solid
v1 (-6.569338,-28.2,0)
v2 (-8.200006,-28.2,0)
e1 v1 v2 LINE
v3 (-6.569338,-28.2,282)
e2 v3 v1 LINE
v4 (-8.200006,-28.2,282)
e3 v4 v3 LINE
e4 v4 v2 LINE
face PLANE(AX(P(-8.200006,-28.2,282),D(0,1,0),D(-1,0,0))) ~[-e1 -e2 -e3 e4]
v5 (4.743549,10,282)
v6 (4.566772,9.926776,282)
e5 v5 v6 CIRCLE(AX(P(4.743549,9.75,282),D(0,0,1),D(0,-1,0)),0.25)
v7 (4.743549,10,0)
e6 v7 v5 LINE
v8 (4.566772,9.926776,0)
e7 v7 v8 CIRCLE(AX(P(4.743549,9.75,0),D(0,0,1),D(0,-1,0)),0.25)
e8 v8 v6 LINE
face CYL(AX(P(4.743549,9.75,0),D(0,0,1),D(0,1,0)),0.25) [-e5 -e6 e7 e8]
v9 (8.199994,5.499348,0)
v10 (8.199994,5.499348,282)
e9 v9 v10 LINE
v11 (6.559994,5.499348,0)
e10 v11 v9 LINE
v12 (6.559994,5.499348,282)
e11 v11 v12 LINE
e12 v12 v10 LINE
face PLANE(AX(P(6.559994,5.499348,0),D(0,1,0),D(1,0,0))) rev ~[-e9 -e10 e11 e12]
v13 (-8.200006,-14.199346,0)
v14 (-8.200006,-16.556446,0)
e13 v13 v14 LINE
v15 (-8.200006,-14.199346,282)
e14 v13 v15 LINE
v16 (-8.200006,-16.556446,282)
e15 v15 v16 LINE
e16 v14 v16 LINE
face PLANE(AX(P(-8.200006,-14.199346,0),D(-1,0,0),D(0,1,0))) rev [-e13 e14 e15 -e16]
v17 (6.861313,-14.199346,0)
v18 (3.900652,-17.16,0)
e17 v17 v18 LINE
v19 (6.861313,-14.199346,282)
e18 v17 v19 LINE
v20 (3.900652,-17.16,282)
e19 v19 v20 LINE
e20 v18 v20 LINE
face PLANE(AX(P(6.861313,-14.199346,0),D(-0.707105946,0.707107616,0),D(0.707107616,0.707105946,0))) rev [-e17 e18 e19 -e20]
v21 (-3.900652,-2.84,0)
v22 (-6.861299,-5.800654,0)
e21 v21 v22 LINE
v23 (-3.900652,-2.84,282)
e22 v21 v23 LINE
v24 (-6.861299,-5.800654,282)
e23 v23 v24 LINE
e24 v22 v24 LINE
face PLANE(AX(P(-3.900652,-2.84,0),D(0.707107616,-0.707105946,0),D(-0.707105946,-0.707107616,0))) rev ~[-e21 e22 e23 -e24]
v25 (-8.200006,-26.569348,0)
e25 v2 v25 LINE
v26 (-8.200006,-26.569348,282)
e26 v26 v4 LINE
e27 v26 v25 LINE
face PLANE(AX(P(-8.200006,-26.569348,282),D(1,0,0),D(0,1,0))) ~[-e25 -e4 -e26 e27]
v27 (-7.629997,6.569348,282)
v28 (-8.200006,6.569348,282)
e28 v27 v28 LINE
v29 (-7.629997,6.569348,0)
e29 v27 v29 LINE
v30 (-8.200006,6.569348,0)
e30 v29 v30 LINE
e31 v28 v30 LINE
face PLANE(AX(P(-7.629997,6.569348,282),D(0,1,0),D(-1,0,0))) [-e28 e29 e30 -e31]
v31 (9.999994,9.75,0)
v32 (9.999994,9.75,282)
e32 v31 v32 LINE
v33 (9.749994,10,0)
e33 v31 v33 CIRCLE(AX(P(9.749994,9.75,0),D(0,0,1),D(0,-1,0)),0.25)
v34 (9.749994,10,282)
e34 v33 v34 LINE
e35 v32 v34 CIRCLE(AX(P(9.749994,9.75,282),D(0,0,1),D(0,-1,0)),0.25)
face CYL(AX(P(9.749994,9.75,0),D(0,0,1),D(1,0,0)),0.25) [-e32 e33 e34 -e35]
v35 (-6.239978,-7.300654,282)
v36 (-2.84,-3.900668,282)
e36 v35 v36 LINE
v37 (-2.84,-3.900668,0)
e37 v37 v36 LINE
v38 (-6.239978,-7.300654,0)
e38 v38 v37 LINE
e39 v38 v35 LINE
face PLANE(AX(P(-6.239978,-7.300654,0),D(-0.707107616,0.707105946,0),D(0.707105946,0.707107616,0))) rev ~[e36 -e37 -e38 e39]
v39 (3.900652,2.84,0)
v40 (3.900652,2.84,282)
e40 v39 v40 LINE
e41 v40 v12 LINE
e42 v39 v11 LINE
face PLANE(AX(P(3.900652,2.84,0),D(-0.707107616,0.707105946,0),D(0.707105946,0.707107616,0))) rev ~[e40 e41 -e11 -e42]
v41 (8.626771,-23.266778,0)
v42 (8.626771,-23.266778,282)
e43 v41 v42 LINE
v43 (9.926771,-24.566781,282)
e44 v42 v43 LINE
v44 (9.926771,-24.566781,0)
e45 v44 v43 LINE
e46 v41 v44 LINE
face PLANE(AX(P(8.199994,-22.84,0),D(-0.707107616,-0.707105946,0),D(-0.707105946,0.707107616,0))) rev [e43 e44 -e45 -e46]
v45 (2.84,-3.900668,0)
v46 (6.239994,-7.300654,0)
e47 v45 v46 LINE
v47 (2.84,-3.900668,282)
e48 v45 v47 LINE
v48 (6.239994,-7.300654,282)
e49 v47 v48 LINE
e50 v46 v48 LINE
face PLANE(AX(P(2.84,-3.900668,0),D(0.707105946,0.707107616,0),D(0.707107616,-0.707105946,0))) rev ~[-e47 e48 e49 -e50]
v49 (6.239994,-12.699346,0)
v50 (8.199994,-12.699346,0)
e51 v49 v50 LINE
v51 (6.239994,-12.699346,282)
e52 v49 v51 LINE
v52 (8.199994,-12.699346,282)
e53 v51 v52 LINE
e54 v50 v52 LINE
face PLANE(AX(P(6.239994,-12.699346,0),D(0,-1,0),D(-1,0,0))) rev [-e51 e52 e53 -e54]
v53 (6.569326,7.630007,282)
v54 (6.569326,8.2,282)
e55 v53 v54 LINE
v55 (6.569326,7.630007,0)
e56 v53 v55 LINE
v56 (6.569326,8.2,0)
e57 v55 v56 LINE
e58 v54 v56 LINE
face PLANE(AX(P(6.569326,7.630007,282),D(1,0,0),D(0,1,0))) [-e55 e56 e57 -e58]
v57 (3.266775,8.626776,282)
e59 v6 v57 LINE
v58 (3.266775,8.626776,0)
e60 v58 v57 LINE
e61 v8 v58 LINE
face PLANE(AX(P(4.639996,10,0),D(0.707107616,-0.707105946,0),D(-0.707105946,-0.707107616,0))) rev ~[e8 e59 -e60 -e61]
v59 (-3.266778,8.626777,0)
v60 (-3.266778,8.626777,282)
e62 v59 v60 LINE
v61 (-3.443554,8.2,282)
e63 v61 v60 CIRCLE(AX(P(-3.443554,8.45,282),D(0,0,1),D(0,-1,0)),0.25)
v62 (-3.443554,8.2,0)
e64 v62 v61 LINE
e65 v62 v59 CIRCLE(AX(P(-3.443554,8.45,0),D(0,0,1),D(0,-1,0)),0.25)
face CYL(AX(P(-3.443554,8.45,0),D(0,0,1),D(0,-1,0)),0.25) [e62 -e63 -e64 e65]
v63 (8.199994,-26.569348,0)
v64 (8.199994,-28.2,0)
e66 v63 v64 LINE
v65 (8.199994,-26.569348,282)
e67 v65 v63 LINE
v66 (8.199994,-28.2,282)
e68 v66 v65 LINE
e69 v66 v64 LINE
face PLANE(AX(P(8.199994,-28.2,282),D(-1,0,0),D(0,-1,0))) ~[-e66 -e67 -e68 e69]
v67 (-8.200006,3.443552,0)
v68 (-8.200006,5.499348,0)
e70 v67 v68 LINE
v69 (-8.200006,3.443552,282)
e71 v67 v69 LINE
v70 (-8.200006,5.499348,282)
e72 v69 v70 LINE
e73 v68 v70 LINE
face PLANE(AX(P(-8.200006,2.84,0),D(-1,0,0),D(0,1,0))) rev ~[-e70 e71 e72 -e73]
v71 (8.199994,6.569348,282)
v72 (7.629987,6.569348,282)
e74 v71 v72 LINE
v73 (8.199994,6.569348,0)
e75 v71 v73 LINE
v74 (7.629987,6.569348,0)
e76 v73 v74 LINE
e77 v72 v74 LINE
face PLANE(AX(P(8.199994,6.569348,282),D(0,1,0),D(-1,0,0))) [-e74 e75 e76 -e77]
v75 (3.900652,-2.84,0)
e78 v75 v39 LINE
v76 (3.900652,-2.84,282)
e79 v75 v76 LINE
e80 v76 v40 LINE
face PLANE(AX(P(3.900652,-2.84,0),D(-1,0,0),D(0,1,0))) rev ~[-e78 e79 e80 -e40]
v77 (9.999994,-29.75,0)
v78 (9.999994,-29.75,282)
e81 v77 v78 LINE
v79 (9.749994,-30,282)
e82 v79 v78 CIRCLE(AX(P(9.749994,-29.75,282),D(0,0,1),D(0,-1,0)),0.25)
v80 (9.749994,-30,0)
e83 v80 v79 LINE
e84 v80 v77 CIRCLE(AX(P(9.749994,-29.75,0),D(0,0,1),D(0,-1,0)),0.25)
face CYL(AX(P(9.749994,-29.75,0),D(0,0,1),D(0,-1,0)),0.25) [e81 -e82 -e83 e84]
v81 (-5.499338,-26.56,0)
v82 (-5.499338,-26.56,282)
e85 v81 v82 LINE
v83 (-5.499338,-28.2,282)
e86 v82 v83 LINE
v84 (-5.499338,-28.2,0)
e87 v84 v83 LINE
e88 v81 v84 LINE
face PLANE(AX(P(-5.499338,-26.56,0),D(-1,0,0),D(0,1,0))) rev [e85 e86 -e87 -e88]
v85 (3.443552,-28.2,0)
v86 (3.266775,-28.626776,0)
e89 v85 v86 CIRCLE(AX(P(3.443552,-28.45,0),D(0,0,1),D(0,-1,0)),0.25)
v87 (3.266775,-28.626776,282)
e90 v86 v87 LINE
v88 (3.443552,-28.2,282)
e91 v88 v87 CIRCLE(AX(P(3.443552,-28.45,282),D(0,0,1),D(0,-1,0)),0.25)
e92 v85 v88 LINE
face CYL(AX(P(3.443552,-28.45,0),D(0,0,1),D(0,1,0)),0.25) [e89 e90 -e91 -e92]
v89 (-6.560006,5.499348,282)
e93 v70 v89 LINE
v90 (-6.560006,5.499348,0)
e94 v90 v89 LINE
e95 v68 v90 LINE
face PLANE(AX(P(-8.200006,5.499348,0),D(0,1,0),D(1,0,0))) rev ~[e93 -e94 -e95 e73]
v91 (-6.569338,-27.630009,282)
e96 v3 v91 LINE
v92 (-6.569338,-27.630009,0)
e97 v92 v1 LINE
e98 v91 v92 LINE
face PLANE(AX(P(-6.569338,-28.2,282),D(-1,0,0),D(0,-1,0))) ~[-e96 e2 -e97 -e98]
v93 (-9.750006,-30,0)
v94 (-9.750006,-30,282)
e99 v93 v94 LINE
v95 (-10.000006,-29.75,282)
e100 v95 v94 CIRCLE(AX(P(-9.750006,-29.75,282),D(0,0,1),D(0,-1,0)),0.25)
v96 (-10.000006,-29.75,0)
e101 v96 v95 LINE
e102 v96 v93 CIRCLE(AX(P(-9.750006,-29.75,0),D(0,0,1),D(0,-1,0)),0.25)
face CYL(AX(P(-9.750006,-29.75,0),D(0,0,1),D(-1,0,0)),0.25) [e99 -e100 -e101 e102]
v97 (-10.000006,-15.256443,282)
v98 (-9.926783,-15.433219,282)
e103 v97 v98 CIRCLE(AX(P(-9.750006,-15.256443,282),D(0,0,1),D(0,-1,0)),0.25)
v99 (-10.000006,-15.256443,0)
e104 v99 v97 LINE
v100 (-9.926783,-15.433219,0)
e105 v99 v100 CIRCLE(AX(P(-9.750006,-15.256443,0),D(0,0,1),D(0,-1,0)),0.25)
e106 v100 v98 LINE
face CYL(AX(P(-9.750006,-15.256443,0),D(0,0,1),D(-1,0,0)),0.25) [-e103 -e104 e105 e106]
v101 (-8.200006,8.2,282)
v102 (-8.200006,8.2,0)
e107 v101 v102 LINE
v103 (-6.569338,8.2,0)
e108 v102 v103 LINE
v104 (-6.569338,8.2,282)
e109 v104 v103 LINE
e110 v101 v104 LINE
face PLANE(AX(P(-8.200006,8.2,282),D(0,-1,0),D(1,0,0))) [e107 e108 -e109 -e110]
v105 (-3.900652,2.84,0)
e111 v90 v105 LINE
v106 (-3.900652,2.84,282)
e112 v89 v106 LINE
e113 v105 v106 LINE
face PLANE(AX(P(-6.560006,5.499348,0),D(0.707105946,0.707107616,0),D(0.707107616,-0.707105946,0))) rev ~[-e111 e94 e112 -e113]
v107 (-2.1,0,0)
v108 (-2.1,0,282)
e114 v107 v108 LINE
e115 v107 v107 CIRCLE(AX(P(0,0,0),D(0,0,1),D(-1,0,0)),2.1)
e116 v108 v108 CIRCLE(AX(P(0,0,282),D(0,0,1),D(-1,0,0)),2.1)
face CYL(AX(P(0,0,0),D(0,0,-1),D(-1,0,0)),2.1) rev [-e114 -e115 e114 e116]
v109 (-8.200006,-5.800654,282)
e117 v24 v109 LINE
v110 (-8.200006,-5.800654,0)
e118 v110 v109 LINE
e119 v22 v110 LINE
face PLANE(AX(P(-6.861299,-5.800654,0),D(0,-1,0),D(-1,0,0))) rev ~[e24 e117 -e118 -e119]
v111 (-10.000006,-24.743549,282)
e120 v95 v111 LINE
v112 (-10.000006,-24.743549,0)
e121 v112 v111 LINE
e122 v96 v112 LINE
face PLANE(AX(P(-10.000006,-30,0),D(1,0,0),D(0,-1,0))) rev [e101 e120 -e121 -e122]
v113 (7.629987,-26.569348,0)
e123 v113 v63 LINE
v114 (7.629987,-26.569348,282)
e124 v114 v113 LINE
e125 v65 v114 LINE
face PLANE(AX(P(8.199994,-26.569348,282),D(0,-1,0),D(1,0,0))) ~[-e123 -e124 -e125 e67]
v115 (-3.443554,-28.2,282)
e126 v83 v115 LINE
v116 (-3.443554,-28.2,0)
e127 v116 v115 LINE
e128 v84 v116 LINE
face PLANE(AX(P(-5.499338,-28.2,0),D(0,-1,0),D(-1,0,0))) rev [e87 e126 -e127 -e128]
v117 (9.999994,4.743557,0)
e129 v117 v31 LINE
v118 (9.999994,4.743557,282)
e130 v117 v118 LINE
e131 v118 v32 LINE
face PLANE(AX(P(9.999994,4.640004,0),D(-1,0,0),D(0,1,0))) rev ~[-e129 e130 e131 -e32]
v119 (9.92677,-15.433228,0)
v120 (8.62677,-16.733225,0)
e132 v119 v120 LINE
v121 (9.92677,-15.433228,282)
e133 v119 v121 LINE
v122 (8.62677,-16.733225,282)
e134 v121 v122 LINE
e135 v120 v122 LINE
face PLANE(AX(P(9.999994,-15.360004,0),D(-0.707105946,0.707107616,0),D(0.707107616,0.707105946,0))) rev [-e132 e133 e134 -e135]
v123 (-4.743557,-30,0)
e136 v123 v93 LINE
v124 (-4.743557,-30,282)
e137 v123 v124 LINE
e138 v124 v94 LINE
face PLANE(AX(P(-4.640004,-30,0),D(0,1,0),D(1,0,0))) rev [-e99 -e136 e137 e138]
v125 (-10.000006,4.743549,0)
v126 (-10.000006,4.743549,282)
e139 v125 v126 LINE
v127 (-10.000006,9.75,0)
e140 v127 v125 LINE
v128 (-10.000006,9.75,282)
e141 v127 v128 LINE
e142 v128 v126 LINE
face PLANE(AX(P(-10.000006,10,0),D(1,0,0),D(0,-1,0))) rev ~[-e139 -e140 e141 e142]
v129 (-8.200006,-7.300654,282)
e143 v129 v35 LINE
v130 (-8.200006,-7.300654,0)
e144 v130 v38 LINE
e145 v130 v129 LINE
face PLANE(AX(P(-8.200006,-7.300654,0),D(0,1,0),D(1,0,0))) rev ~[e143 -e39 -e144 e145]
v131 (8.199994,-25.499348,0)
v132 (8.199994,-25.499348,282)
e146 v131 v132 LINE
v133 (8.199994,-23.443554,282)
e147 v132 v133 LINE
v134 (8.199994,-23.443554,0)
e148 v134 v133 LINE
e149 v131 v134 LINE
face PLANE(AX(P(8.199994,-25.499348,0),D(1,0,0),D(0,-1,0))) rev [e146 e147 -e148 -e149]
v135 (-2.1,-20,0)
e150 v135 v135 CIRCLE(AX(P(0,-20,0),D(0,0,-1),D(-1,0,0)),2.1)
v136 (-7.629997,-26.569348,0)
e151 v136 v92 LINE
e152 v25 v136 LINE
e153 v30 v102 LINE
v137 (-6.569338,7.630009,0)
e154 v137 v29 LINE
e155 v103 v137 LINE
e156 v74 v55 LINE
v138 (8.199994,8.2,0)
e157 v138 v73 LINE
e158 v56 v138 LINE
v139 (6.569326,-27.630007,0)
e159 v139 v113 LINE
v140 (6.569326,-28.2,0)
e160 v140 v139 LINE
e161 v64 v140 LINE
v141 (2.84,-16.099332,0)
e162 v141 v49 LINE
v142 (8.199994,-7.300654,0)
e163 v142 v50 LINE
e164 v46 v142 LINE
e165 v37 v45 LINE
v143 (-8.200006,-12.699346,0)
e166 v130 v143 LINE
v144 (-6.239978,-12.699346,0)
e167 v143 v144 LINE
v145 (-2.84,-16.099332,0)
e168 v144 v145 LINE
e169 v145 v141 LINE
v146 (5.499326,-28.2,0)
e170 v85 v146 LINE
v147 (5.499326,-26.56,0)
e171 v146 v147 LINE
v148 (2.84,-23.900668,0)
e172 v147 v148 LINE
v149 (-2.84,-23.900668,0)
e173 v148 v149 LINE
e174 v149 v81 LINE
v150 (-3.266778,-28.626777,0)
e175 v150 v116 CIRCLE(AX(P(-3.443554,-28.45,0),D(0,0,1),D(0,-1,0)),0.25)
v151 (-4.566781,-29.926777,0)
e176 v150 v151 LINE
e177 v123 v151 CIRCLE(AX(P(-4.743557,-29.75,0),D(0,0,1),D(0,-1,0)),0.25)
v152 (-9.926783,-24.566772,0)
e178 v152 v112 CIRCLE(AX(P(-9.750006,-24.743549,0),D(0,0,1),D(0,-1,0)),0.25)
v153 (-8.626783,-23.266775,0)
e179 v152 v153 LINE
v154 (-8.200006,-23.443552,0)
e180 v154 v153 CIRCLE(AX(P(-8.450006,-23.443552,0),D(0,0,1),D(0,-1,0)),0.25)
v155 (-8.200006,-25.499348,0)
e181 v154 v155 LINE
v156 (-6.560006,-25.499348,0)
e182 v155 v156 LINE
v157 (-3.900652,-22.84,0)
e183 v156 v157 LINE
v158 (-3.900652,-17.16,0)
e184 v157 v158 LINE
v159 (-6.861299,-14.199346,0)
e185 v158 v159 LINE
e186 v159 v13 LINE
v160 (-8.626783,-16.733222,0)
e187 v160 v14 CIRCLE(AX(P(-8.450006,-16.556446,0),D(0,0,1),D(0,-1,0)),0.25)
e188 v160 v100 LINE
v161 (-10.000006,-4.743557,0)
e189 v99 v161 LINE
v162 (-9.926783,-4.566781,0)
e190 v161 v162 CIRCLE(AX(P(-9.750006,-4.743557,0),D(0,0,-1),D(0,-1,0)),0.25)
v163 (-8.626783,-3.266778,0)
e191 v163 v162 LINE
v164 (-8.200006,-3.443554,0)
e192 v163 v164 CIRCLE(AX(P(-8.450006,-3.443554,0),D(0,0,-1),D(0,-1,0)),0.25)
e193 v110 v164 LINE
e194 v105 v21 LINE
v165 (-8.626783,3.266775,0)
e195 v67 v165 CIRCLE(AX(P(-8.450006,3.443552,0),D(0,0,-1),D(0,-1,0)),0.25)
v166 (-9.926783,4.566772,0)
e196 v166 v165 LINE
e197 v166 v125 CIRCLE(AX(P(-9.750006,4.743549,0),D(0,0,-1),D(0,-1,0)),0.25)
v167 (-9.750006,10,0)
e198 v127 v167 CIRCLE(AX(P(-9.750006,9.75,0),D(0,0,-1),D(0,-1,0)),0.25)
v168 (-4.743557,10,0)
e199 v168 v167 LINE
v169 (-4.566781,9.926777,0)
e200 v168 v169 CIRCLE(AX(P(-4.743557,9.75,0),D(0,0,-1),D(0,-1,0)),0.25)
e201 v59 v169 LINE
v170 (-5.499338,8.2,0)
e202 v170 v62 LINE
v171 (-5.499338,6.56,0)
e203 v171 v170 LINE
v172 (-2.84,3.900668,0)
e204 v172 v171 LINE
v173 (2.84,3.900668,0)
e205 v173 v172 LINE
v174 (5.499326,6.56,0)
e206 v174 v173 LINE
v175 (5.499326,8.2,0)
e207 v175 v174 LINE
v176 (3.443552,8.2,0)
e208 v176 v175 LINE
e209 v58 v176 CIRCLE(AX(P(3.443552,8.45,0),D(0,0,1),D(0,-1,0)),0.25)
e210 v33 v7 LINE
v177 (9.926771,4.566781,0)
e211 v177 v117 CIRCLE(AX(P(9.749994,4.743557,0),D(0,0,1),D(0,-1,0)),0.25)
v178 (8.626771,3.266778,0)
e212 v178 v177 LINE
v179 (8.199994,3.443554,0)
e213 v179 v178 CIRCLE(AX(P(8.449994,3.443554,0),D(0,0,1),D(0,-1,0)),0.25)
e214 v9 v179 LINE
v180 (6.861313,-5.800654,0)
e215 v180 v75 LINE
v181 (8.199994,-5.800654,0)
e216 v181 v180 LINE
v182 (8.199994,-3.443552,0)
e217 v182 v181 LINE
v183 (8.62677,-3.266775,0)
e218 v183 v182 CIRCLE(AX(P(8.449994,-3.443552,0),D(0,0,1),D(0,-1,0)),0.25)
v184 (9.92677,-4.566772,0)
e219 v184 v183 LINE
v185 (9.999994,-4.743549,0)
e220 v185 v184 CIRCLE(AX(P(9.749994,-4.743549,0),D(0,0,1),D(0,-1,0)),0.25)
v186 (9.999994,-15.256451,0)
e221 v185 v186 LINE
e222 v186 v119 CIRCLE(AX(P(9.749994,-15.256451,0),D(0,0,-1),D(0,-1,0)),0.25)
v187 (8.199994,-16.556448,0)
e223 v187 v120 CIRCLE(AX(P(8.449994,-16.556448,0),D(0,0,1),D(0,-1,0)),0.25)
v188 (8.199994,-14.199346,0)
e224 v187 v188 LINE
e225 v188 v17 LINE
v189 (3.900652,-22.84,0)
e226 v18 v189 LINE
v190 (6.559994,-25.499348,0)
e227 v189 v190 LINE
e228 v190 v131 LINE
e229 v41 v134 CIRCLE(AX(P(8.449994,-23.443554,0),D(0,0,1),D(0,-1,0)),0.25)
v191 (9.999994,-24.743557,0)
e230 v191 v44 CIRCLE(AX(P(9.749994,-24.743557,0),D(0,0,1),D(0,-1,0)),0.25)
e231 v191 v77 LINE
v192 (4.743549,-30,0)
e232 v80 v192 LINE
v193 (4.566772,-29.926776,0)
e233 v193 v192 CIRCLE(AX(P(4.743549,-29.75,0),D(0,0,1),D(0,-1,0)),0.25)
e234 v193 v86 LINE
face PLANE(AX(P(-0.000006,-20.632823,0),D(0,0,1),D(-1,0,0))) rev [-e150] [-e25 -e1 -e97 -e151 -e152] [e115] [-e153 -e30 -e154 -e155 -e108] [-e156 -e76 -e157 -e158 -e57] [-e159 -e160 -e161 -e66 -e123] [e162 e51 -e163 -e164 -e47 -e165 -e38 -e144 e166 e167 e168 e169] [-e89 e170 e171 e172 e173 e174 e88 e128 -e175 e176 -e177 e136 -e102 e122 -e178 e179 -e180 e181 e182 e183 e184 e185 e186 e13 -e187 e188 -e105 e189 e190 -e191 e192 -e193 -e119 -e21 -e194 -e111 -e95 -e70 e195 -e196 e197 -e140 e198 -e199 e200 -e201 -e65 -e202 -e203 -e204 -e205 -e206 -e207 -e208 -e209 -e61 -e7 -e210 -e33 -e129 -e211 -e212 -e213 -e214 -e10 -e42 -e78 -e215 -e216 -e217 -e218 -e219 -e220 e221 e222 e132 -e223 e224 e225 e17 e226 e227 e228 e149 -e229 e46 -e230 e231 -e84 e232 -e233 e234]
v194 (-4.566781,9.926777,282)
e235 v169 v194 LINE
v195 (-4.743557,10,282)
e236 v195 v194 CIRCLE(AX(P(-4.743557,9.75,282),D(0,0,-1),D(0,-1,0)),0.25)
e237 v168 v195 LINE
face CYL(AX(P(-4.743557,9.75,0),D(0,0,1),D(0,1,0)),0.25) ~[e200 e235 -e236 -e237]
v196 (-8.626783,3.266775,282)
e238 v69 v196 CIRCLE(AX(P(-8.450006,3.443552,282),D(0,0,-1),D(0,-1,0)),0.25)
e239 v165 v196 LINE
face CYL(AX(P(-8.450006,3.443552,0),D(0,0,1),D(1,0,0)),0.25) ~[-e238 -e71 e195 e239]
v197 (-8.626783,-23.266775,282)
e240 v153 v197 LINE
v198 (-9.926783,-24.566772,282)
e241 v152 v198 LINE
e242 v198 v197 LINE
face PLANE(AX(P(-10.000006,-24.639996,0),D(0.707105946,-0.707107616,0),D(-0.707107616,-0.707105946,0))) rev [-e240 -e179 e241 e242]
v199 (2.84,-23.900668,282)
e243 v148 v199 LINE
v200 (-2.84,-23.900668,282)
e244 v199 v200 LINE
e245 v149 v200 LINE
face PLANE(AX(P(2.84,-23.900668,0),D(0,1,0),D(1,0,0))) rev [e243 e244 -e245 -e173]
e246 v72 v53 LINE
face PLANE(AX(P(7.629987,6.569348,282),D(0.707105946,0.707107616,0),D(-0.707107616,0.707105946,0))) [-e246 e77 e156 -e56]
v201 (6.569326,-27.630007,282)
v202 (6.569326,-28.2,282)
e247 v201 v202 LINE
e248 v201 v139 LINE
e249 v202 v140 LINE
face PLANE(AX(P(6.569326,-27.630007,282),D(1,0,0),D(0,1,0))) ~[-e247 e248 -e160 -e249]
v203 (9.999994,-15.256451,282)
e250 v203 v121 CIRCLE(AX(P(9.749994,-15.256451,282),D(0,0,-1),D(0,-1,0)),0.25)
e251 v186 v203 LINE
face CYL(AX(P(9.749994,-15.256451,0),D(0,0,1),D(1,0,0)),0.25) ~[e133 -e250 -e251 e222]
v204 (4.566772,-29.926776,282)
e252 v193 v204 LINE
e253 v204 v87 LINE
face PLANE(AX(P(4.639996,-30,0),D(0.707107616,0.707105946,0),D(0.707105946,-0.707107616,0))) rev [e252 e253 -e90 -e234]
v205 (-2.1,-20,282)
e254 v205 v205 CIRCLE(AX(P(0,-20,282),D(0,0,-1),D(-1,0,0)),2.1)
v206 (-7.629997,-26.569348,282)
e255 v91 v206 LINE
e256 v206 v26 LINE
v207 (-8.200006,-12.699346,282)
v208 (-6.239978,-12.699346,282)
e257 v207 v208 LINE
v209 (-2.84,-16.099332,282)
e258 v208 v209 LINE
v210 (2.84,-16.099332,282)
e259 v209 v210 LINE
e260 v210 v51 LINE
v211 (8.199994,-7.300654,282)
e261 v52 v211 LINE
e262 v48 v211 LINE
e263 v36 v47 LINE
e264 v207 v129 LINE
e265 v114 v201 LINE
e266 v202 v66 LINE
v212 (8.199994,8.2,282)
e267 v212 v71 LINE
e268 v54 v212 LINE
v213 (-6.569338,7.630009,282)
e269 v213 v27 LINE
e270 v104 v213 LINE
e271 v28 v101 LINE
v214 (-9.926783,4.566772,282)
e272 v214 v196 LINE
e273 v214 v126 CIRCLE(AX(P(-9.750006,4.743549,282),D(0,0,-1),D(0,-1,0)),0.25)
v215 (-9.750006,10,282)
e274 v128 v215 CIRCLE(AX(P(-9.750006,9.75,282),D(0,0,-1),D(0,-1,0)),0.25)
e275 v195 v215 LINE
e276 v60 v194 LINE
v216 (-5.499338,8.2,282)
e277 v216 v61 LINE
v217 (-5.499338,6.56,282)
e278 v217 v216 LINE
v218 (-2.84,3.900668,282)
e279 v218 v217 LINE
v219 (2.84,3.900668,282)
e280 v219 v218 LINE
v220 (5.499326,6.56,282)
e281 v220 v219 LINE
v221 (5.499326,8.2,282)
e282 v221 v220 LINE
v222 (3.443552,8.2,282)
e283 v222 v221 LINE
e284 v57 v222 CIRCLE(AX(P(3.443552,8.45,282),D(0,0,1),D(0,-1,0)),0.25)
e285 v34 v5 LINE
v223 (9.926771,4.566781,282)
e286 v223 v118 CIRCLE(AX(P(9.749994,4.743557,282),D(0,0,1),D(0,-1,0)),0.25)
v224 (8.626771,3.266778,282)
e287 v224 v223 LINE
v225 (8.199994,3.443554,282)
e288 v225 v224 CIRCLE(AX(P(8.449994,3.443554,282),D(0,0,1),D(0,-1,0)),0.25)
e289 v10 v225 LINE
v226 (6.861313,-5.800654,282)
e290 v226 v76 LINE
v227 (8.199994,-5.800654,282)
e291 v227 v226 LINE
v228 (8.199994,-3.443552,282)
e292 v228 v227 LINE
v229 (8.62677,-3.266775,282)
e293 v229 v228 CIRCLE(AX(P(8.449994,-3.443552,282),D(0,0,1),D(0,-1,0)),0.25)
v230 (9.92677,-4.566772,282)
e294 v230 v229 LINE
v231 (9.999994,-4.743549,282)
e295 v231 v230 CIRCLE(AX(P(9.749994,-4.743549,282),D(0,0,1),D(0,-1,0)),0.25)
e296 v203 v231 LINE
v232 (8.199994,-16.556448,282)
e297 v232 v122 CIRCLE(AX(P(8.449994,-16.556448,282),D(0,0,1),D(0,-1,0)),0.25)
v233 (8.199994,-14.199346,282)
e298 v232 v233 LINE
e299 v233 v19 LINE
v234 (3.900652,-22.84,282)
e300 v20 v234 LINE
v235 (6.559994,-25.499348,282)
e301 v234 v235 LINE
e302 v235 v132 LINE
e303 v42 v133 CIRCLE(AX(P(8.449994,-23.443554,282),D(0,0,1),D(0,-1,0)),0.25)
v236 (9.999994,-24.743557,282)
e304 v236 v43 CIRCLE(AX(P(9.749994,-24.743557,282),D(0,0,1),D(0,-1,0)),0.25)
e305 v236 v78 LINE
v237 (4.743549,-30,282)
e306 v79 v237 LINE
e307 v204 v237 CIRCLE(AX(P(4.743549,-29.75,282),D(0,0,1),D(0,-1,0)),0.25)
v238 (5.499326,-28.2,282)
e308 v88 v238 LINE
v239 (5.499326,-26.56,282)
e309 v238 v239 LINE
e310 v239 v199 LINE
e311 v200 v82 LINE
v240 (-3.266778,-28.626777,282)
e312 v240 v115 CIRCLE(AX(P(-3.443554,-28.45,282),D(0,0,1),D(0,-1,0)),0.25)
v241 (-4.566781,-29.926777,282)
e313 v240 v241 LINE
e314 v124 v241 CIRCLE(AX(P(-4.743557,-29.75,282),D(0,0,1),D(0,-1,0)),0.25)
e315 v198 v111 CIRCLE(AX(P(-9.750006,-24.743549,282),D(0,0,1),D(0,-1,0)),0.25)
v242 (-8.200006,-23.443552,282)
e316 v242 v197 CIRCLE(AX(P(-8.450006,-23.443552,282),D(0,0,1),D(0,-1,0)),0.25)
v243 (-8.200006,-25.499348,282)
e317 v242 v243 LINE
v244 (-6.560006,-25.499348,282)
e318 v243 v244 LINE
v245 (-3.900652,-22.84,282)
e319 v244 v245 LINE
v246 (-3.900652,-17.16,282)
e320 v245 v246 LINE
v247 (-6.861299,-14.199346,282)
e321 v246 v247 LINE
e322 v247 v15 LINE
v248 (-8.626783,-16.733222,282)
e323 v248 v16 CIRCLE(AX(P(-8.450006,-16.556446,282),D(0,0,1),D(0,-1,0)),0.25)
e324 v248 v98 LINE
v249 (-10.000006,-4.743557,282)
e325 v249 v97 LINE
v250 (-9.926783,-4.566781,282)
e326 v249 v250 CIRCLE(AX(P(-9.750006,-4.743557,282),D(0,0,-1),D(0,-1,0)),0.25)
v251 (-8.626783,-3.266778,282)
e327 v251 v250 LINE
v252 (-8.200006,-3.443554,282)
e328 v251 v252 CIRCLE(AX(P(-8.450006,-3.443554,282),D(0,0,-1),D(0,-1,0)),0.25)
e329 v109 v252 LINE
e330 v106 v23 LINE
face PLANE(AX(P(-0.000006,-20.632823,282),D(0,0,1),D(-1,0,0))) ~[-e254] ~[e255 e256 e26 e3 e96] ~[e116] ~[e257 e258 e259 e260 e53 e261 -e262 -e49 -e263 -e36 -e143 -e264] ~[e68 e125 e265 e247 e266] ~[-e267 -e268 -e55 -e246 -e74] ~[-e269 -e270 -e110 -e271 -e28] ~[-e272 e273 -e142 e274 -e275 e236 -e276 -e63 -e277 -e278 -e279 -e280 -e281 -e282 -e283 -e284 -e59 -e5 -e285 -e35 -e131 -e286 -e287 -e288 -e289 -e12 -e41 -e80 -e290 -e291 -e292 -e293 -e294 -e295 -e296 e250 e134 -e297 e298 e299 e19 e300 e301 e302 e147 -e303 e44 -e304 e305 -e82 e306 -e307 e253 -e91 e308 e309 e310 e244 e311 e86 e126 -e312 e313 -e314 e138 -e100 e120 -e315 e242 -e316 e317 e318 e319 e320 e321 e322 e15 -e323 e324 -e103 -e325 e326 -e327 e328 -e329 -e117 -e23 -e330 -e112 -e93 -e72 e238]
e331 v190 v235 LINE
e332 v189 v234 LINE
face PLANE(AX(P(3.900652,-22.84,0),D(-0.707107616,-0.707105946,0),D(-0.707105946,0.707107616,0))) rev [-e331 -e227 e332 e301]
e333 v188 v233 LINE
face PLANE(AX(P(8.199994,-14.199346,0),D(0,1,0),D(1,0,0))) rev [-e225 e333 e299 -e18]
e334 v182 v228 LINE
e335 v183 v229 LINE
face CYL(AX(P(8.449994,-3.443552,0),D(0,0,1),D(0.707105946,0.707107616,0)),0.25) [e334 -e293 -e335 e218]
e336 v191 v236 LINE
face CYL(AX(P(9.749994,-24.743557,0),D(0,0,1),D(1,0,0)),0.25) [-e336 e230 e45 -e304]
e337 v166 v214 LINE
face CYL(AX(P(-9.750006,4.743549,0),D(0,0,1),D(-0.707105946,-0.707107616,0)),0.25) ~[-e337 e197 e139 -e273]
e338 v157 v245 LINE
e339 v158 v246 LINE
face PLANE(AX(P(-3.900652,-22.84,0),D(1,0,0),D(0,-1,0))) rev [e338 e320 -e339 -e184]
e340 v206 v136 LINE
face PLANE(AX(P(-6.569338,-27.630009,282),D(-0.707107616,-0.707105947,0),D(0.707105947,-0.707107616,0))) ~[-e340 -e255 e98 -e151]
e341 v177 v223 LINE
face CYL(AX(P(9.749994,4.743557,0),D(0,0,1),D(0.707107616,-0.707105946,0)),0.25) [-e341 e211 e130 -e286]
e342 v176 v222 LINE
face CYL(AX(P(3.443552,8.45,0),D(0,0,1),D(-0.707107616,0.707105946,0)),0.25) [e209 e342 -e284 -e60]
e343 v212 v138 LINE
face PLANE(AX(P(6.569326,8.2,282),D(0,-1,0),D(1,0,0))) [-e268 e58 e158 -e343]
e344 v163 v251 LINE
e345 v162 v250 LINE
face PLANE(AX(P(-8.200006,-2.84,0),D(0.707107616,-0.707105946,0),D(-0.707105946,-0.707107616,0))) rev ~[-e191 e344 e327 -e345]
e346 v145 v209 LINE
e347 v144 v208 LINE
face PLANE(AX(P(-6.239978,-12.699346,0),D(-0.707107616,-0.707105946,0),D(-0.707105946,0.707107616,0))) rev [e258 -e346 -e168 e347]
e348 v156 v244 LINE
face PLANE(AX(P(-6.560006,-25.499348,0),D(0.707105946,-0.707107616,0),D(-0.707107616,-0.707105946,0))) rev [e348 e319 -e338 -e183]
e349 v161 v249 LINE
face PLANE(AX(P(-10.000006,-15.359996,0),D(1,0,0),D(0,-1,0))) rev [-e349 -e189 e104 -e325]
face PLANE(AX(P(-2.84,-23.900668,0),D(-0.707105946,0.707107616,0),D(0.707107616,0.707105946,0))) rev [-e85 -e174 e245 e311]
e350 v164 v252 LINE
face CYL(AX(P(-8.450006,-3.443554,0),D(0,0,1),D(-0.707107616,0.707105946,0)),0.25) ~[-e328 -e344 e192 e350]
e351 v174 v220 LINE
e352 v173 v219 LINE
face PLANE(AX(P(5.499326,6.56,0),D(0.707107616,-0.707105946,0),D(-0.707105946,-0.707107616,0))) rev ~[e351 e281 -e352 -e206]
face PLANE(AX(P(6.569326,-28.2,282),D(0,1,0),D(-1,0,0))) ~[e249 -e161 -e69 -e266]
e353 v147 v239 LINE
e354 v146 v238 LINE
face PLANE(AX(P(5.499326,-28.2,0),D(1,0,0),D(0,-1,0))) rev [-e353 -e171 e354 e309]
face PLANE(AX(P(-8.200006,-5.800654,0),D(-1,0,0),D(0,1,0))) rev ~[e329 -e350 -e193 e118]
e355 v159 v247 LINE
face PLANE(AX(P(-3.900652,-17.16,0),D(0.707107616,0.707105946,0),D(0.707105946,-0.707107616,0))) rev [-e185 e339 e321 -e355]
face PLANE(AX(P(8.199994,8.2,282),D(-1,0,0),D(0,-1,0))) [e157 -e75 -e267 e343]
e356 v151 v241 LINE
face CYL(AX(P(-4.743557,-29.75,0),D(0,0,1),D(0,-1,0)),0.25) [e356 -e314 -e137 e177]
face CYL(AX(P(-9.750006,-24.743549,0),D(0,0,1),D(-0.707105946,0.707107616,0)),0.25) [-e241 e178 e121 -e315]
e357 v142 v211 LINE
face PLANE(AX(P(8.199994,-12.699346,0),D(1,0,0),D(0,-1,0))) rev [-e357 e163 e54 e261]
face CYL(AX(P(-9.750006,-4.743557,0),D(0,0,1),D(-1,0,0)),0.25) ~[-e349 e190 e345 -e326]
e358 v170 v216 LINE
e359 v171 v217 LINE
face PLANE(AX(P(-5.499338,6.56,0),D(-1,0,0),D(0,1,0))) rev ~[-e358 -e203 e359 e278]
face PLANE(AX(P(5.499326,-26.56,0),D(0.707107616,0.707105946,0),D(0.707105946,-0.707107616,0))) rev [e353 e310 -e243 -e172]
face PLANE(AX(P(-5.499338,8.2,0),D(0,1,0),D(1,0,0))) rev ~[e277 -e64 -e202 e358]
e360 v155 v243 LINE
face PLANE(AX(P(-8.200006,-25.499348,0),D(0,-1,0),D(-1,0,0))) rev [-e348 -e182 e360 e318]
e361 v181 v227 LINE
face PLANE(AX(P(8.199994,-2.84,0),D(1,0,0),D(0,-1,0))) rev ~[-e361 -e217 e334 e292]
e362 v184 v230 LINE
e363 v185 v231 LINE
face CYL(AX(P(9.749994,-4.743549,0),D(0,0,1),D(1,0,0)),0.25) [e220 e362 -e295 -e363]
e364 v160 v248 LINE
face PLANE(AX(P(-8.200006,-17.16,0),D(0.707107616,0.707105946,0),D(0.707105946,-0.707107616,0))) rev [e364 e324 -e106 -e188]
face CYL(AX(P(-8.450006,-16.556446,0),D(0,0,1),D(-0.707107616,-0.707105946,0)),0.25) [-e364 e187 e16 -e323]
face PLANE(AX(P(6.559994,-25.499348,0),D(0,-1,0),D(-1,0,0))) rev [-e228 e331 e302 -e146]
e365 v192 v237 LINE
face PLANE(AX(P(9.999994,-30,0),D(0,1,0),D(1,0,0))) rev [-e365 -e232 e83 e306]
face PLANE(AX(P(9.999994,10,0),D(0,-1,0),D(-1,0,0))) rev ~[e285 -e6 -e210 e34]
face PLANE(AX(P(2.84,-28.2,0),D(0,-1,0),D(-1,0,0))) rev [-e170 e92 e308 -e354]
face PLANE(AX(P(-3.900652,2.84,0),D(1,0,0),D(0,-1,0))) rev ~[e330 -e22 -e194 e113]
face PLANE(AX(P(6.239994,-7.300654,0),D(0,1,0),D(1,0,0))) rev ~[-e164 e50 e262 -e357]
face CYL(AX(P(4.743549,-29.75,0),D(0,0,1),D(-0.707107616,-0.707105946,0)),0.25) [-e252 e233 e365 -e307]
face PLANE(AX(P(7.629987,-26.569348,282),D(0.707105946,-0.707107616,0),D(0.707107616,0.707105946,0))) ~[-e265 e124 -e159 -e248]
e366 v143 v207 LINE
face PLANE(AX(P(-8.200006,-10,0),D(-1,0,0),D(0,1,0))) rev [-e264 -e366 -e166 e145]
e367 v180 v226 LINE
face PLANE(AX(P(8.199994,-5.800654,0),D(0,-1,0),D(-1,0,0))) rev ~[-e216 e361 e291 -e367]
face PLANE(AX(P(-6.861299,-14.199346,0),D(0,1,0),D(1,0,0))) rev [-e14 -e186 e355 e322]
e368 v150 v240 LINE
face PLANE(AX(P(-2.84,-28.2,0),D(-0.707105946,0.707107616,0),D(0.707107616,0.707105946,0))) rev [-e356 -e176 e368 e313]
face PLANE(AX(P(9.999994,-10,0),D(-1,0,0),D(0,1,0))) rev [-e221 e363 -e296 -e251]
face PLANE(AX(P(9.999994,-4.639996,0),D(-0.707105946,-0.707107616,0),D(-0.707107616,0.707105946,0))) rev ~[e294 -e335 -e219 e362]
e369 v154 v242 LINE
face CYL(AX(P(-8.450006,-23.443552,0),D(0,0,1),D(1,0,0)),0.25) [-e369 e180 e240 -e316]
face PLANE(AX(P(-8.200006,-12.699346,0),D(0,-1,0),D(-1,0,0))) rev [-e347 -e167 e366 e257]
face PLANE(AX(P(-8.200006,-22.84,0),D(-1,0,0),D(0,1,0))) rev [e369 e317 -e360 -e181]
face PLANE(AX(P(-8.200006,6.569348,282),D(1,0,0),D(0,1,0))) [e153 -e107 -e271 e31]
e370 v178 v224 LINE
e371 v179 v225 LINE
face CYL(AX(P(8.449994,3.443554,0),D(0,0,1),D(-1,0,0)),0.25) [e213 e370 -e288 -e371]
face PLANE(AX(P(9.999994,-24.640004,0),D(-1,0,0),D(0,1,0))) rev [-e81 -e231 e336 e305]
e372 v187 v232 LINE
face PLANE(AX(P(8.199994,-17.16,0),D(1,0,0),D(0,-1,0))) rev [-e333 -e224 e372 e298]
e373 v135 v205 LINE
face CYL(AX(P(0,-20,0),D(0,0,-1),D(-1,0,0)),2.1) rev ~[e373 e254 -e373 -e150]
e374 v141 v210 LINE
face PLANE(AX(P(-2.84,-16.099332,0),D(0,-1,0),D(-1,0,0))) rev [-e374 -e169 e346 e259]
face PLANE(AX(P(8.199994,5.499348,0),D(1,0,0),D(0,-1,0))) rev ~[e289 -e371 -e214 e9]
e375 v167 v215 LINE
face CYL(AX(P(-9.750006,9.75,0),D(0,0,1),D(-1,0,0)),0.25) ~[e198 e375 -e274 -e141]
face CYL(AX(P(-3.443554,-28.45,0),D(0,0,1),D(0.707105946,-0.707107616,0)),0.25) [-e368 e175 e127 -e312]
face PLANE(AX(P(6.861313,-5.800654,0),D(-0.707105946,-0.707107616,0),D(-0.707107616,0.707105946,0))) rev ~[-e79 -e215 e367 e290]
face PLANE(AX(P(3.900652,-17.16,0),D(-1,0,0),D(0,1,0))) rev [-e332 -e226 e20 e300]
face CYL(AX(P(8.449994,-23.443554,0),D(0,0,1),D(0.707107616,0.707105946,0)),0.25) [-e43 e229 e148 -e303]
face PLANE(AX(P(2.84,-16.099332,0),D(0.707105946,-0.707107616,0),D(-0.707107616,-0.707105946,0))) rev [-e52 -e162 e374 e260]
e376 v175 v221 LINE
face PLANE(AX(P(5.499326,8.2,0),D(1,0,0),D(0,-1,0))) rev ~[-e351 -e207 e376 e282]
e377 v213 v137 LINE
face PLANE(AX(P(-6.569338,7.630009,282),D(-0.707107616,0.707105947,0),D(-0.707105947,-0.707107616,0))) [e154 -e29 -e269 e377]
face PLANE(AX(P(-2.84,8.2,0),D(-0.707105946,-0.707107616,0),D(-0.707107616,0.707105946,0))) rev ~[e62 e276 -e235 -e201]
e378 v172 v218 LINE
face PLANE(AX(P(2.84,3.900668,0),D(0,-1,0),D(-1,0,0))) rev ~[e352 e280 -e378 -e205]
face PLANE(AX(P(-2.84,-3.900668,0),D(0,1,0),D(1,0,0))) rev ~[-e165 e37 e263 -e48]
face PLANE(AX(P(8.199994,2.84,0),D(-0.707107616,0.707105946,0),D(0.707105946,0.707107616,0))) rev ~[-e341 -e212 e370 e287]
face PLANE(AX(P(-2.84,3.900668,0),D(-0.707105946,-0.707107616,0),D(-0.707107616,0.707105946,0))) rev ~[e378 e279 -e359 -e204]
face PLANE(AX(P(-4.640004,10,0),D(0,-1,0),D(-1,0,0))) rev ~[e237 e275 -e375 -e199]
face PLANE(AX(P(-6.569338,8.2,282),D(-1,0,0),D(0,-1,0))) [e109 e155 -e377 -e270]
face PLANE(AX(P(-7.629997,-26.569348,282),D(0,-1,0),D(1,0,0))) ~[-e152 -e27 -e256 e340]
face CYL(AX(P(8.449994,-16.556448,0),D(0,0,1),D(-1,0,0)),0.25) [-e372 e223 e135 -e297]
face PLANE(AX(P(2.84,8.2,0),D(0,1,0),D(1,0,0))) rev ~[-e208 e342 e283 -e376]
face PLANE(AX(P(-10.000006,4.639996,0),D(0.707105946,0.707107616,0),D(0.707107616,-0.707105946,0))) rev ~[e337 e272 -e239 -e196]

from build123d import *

# Parameters (mm, degrees)
SKETCH1_R            = 2.1
BOSS_EXTRUDE2_DEPTH  = 282
CUT_EXTRUDE1_DEPTH   = 283.354387474
FILLET1_R            = 0.25
FILLET1_OF_MIRROR1_R = 0.25


with BuildPart() as part:
    # Sketch1 → Boss-Extrude2 (new body)
    with BuildSketch(Plane.XY):
        Polygon((8.199993721, -10), (9.999993721, -10), (9.999993721, -4.63999575), (8.199993721, -2.84), (8.199993721, -5.800653822), (6.861313026, -5.800653822), (3.900652213, -2.84), (3.900652213, 2.84), (6.559993721, 5.499347787), (8.199993721, 5.499347787), (8.199993721, 2.84), (9.999993721, 4.64000425), (9.999993721, 10), (4.63999575, 10), (2.84, 8.2), (5.499325592, 8.2), (5.499325592, 6.56), (2.84, 3.900668129), (-2.84, 3.900668129), (-5.49933815, 6.56), (-5.49933815, 8.2), (-2.84, 8.2), (-4.64000425, 10), (-10.000006279, 10), (-10.000006279, 4.63999575), (-8.200006279, 2.84), (-8.200006279, 5.499347787), (-6.560006279, 5.499347787), (-3.900652213, 2.84), (-3.900652213, -2.84), (-6.861299044, -5.800653822), (-8.200006279, -5.800653822), (-8.200006279, -2.84), (-10.000006279, -4.64000425), (-10.000006279, -10), (-8.200006279, -10), (-8.200006279, -7.300653822), (-6.239977665, -7.300653822), (-2.84, -3.900668129), (2.84, -3.900668129), (6.239993721, -7.300653822), (8.199993721, -7.300653822), align=None)
        with Locations(Location((0, 0, 0), (0, 0, 180))):
            Circle(SKETCH1_R, mode=Mode.SUBTRACT)
    boss_extrude2 = extrude(amount=BOSS_EXTRUDE2_DEPTH)

    # Sketch2 → Cut-Extrude1 (cut, through all)
    with BuildSketch(Plane.XY.offset(282)):
        Polygon((-8.200006279, 6.569347787), (-8.200006279, 8.2), (-6.56933815, 8.2), (-6.56933815, 7.630009211), (-7.62999707, 6.569347787), align=None)
        Polygon((8.199993721, 8.2), (8.199993721, 6.569347787), (7.629987016, 6.569347787), (6.569325592, 7.630006706), (6.569325592, 8.2), align=None)
    cut_extrude1 = extrude(amount=-CUT_EXTRUDE1_DEPTH, mode=Mode.SUBTRACT)

    # Fillet1
    fillet1_edges = [part.edges().sort_by_distance(p)[0] for p in [
        (9.999993721, -4.63999575, 141),
        (-10.000006279, -4.64000425, 141),
        (-8.200006279, -2.84, 141),
        (-8.200006279, 2.84, 141),
        (-10.000006279, 4.63999575, 141),
        (-10.000006279, 10, 141),
        (-4.64000425, 10, 141),
        (-2.84, 8.2, 141),
        (2.84, 8.2, 141),
        (4.63999575, 10, 141),
        (9.999993721, 10, 141),
        (9.999993721, 4.64000425, 141),
        (8.199993721, 2.84, 141),
        (8.199993721, -2.84, 141),
    ]]
    fillet(fillet1_edges, radius=FILLET1_R)

    # Mirror1: Boss-Extrude2 across plane
    add(boss_extrude2.mirror(Plane(origin=(0, -10, 0), x_dir=(0, 0, 1), z_dir=(0, -1, 0))))

    # Fillet1 of Mirror1
    fillet1_of_mirror1_edges = [part.edges().sort_by_distance(p)[0] for p in [
        (9.999993721, -15.36000425, 141),
        (-10.000006279, -15.35999575, 141),
        (-8.200006279, -17.16, 141),
        (-8.200006279, -22.84, 141),
        (-10.000006279, -24.63999575, 141),
        (-10.000006279, -30, 141),
        (-4.64000425, -30, 141),
        (-2.84, -28.2, 141),
        (2.84, -28.2, 141),
        (4.63999575, -30, 141),
        (9.999993721, -30, 141),
        (9.999993721, -24.64000425, 141),
        (8.199993721, -22.84, 141),
        (8.199993721, -17.16, 141),
    ]]
    fillet(fillet1_of_mirror1_edges, radius=FILLET1_OF_MIRROR1_R)

    # Mirror2: Cut-Extrude1 across plane
    add(cut_extrude1.mirror(Plane(origin=(0, -10, 0), x_dir=(0, 0, 1), z_dir=(0, -1, 0))), mode=Mode.SUBTRACT)


solid = part.part
